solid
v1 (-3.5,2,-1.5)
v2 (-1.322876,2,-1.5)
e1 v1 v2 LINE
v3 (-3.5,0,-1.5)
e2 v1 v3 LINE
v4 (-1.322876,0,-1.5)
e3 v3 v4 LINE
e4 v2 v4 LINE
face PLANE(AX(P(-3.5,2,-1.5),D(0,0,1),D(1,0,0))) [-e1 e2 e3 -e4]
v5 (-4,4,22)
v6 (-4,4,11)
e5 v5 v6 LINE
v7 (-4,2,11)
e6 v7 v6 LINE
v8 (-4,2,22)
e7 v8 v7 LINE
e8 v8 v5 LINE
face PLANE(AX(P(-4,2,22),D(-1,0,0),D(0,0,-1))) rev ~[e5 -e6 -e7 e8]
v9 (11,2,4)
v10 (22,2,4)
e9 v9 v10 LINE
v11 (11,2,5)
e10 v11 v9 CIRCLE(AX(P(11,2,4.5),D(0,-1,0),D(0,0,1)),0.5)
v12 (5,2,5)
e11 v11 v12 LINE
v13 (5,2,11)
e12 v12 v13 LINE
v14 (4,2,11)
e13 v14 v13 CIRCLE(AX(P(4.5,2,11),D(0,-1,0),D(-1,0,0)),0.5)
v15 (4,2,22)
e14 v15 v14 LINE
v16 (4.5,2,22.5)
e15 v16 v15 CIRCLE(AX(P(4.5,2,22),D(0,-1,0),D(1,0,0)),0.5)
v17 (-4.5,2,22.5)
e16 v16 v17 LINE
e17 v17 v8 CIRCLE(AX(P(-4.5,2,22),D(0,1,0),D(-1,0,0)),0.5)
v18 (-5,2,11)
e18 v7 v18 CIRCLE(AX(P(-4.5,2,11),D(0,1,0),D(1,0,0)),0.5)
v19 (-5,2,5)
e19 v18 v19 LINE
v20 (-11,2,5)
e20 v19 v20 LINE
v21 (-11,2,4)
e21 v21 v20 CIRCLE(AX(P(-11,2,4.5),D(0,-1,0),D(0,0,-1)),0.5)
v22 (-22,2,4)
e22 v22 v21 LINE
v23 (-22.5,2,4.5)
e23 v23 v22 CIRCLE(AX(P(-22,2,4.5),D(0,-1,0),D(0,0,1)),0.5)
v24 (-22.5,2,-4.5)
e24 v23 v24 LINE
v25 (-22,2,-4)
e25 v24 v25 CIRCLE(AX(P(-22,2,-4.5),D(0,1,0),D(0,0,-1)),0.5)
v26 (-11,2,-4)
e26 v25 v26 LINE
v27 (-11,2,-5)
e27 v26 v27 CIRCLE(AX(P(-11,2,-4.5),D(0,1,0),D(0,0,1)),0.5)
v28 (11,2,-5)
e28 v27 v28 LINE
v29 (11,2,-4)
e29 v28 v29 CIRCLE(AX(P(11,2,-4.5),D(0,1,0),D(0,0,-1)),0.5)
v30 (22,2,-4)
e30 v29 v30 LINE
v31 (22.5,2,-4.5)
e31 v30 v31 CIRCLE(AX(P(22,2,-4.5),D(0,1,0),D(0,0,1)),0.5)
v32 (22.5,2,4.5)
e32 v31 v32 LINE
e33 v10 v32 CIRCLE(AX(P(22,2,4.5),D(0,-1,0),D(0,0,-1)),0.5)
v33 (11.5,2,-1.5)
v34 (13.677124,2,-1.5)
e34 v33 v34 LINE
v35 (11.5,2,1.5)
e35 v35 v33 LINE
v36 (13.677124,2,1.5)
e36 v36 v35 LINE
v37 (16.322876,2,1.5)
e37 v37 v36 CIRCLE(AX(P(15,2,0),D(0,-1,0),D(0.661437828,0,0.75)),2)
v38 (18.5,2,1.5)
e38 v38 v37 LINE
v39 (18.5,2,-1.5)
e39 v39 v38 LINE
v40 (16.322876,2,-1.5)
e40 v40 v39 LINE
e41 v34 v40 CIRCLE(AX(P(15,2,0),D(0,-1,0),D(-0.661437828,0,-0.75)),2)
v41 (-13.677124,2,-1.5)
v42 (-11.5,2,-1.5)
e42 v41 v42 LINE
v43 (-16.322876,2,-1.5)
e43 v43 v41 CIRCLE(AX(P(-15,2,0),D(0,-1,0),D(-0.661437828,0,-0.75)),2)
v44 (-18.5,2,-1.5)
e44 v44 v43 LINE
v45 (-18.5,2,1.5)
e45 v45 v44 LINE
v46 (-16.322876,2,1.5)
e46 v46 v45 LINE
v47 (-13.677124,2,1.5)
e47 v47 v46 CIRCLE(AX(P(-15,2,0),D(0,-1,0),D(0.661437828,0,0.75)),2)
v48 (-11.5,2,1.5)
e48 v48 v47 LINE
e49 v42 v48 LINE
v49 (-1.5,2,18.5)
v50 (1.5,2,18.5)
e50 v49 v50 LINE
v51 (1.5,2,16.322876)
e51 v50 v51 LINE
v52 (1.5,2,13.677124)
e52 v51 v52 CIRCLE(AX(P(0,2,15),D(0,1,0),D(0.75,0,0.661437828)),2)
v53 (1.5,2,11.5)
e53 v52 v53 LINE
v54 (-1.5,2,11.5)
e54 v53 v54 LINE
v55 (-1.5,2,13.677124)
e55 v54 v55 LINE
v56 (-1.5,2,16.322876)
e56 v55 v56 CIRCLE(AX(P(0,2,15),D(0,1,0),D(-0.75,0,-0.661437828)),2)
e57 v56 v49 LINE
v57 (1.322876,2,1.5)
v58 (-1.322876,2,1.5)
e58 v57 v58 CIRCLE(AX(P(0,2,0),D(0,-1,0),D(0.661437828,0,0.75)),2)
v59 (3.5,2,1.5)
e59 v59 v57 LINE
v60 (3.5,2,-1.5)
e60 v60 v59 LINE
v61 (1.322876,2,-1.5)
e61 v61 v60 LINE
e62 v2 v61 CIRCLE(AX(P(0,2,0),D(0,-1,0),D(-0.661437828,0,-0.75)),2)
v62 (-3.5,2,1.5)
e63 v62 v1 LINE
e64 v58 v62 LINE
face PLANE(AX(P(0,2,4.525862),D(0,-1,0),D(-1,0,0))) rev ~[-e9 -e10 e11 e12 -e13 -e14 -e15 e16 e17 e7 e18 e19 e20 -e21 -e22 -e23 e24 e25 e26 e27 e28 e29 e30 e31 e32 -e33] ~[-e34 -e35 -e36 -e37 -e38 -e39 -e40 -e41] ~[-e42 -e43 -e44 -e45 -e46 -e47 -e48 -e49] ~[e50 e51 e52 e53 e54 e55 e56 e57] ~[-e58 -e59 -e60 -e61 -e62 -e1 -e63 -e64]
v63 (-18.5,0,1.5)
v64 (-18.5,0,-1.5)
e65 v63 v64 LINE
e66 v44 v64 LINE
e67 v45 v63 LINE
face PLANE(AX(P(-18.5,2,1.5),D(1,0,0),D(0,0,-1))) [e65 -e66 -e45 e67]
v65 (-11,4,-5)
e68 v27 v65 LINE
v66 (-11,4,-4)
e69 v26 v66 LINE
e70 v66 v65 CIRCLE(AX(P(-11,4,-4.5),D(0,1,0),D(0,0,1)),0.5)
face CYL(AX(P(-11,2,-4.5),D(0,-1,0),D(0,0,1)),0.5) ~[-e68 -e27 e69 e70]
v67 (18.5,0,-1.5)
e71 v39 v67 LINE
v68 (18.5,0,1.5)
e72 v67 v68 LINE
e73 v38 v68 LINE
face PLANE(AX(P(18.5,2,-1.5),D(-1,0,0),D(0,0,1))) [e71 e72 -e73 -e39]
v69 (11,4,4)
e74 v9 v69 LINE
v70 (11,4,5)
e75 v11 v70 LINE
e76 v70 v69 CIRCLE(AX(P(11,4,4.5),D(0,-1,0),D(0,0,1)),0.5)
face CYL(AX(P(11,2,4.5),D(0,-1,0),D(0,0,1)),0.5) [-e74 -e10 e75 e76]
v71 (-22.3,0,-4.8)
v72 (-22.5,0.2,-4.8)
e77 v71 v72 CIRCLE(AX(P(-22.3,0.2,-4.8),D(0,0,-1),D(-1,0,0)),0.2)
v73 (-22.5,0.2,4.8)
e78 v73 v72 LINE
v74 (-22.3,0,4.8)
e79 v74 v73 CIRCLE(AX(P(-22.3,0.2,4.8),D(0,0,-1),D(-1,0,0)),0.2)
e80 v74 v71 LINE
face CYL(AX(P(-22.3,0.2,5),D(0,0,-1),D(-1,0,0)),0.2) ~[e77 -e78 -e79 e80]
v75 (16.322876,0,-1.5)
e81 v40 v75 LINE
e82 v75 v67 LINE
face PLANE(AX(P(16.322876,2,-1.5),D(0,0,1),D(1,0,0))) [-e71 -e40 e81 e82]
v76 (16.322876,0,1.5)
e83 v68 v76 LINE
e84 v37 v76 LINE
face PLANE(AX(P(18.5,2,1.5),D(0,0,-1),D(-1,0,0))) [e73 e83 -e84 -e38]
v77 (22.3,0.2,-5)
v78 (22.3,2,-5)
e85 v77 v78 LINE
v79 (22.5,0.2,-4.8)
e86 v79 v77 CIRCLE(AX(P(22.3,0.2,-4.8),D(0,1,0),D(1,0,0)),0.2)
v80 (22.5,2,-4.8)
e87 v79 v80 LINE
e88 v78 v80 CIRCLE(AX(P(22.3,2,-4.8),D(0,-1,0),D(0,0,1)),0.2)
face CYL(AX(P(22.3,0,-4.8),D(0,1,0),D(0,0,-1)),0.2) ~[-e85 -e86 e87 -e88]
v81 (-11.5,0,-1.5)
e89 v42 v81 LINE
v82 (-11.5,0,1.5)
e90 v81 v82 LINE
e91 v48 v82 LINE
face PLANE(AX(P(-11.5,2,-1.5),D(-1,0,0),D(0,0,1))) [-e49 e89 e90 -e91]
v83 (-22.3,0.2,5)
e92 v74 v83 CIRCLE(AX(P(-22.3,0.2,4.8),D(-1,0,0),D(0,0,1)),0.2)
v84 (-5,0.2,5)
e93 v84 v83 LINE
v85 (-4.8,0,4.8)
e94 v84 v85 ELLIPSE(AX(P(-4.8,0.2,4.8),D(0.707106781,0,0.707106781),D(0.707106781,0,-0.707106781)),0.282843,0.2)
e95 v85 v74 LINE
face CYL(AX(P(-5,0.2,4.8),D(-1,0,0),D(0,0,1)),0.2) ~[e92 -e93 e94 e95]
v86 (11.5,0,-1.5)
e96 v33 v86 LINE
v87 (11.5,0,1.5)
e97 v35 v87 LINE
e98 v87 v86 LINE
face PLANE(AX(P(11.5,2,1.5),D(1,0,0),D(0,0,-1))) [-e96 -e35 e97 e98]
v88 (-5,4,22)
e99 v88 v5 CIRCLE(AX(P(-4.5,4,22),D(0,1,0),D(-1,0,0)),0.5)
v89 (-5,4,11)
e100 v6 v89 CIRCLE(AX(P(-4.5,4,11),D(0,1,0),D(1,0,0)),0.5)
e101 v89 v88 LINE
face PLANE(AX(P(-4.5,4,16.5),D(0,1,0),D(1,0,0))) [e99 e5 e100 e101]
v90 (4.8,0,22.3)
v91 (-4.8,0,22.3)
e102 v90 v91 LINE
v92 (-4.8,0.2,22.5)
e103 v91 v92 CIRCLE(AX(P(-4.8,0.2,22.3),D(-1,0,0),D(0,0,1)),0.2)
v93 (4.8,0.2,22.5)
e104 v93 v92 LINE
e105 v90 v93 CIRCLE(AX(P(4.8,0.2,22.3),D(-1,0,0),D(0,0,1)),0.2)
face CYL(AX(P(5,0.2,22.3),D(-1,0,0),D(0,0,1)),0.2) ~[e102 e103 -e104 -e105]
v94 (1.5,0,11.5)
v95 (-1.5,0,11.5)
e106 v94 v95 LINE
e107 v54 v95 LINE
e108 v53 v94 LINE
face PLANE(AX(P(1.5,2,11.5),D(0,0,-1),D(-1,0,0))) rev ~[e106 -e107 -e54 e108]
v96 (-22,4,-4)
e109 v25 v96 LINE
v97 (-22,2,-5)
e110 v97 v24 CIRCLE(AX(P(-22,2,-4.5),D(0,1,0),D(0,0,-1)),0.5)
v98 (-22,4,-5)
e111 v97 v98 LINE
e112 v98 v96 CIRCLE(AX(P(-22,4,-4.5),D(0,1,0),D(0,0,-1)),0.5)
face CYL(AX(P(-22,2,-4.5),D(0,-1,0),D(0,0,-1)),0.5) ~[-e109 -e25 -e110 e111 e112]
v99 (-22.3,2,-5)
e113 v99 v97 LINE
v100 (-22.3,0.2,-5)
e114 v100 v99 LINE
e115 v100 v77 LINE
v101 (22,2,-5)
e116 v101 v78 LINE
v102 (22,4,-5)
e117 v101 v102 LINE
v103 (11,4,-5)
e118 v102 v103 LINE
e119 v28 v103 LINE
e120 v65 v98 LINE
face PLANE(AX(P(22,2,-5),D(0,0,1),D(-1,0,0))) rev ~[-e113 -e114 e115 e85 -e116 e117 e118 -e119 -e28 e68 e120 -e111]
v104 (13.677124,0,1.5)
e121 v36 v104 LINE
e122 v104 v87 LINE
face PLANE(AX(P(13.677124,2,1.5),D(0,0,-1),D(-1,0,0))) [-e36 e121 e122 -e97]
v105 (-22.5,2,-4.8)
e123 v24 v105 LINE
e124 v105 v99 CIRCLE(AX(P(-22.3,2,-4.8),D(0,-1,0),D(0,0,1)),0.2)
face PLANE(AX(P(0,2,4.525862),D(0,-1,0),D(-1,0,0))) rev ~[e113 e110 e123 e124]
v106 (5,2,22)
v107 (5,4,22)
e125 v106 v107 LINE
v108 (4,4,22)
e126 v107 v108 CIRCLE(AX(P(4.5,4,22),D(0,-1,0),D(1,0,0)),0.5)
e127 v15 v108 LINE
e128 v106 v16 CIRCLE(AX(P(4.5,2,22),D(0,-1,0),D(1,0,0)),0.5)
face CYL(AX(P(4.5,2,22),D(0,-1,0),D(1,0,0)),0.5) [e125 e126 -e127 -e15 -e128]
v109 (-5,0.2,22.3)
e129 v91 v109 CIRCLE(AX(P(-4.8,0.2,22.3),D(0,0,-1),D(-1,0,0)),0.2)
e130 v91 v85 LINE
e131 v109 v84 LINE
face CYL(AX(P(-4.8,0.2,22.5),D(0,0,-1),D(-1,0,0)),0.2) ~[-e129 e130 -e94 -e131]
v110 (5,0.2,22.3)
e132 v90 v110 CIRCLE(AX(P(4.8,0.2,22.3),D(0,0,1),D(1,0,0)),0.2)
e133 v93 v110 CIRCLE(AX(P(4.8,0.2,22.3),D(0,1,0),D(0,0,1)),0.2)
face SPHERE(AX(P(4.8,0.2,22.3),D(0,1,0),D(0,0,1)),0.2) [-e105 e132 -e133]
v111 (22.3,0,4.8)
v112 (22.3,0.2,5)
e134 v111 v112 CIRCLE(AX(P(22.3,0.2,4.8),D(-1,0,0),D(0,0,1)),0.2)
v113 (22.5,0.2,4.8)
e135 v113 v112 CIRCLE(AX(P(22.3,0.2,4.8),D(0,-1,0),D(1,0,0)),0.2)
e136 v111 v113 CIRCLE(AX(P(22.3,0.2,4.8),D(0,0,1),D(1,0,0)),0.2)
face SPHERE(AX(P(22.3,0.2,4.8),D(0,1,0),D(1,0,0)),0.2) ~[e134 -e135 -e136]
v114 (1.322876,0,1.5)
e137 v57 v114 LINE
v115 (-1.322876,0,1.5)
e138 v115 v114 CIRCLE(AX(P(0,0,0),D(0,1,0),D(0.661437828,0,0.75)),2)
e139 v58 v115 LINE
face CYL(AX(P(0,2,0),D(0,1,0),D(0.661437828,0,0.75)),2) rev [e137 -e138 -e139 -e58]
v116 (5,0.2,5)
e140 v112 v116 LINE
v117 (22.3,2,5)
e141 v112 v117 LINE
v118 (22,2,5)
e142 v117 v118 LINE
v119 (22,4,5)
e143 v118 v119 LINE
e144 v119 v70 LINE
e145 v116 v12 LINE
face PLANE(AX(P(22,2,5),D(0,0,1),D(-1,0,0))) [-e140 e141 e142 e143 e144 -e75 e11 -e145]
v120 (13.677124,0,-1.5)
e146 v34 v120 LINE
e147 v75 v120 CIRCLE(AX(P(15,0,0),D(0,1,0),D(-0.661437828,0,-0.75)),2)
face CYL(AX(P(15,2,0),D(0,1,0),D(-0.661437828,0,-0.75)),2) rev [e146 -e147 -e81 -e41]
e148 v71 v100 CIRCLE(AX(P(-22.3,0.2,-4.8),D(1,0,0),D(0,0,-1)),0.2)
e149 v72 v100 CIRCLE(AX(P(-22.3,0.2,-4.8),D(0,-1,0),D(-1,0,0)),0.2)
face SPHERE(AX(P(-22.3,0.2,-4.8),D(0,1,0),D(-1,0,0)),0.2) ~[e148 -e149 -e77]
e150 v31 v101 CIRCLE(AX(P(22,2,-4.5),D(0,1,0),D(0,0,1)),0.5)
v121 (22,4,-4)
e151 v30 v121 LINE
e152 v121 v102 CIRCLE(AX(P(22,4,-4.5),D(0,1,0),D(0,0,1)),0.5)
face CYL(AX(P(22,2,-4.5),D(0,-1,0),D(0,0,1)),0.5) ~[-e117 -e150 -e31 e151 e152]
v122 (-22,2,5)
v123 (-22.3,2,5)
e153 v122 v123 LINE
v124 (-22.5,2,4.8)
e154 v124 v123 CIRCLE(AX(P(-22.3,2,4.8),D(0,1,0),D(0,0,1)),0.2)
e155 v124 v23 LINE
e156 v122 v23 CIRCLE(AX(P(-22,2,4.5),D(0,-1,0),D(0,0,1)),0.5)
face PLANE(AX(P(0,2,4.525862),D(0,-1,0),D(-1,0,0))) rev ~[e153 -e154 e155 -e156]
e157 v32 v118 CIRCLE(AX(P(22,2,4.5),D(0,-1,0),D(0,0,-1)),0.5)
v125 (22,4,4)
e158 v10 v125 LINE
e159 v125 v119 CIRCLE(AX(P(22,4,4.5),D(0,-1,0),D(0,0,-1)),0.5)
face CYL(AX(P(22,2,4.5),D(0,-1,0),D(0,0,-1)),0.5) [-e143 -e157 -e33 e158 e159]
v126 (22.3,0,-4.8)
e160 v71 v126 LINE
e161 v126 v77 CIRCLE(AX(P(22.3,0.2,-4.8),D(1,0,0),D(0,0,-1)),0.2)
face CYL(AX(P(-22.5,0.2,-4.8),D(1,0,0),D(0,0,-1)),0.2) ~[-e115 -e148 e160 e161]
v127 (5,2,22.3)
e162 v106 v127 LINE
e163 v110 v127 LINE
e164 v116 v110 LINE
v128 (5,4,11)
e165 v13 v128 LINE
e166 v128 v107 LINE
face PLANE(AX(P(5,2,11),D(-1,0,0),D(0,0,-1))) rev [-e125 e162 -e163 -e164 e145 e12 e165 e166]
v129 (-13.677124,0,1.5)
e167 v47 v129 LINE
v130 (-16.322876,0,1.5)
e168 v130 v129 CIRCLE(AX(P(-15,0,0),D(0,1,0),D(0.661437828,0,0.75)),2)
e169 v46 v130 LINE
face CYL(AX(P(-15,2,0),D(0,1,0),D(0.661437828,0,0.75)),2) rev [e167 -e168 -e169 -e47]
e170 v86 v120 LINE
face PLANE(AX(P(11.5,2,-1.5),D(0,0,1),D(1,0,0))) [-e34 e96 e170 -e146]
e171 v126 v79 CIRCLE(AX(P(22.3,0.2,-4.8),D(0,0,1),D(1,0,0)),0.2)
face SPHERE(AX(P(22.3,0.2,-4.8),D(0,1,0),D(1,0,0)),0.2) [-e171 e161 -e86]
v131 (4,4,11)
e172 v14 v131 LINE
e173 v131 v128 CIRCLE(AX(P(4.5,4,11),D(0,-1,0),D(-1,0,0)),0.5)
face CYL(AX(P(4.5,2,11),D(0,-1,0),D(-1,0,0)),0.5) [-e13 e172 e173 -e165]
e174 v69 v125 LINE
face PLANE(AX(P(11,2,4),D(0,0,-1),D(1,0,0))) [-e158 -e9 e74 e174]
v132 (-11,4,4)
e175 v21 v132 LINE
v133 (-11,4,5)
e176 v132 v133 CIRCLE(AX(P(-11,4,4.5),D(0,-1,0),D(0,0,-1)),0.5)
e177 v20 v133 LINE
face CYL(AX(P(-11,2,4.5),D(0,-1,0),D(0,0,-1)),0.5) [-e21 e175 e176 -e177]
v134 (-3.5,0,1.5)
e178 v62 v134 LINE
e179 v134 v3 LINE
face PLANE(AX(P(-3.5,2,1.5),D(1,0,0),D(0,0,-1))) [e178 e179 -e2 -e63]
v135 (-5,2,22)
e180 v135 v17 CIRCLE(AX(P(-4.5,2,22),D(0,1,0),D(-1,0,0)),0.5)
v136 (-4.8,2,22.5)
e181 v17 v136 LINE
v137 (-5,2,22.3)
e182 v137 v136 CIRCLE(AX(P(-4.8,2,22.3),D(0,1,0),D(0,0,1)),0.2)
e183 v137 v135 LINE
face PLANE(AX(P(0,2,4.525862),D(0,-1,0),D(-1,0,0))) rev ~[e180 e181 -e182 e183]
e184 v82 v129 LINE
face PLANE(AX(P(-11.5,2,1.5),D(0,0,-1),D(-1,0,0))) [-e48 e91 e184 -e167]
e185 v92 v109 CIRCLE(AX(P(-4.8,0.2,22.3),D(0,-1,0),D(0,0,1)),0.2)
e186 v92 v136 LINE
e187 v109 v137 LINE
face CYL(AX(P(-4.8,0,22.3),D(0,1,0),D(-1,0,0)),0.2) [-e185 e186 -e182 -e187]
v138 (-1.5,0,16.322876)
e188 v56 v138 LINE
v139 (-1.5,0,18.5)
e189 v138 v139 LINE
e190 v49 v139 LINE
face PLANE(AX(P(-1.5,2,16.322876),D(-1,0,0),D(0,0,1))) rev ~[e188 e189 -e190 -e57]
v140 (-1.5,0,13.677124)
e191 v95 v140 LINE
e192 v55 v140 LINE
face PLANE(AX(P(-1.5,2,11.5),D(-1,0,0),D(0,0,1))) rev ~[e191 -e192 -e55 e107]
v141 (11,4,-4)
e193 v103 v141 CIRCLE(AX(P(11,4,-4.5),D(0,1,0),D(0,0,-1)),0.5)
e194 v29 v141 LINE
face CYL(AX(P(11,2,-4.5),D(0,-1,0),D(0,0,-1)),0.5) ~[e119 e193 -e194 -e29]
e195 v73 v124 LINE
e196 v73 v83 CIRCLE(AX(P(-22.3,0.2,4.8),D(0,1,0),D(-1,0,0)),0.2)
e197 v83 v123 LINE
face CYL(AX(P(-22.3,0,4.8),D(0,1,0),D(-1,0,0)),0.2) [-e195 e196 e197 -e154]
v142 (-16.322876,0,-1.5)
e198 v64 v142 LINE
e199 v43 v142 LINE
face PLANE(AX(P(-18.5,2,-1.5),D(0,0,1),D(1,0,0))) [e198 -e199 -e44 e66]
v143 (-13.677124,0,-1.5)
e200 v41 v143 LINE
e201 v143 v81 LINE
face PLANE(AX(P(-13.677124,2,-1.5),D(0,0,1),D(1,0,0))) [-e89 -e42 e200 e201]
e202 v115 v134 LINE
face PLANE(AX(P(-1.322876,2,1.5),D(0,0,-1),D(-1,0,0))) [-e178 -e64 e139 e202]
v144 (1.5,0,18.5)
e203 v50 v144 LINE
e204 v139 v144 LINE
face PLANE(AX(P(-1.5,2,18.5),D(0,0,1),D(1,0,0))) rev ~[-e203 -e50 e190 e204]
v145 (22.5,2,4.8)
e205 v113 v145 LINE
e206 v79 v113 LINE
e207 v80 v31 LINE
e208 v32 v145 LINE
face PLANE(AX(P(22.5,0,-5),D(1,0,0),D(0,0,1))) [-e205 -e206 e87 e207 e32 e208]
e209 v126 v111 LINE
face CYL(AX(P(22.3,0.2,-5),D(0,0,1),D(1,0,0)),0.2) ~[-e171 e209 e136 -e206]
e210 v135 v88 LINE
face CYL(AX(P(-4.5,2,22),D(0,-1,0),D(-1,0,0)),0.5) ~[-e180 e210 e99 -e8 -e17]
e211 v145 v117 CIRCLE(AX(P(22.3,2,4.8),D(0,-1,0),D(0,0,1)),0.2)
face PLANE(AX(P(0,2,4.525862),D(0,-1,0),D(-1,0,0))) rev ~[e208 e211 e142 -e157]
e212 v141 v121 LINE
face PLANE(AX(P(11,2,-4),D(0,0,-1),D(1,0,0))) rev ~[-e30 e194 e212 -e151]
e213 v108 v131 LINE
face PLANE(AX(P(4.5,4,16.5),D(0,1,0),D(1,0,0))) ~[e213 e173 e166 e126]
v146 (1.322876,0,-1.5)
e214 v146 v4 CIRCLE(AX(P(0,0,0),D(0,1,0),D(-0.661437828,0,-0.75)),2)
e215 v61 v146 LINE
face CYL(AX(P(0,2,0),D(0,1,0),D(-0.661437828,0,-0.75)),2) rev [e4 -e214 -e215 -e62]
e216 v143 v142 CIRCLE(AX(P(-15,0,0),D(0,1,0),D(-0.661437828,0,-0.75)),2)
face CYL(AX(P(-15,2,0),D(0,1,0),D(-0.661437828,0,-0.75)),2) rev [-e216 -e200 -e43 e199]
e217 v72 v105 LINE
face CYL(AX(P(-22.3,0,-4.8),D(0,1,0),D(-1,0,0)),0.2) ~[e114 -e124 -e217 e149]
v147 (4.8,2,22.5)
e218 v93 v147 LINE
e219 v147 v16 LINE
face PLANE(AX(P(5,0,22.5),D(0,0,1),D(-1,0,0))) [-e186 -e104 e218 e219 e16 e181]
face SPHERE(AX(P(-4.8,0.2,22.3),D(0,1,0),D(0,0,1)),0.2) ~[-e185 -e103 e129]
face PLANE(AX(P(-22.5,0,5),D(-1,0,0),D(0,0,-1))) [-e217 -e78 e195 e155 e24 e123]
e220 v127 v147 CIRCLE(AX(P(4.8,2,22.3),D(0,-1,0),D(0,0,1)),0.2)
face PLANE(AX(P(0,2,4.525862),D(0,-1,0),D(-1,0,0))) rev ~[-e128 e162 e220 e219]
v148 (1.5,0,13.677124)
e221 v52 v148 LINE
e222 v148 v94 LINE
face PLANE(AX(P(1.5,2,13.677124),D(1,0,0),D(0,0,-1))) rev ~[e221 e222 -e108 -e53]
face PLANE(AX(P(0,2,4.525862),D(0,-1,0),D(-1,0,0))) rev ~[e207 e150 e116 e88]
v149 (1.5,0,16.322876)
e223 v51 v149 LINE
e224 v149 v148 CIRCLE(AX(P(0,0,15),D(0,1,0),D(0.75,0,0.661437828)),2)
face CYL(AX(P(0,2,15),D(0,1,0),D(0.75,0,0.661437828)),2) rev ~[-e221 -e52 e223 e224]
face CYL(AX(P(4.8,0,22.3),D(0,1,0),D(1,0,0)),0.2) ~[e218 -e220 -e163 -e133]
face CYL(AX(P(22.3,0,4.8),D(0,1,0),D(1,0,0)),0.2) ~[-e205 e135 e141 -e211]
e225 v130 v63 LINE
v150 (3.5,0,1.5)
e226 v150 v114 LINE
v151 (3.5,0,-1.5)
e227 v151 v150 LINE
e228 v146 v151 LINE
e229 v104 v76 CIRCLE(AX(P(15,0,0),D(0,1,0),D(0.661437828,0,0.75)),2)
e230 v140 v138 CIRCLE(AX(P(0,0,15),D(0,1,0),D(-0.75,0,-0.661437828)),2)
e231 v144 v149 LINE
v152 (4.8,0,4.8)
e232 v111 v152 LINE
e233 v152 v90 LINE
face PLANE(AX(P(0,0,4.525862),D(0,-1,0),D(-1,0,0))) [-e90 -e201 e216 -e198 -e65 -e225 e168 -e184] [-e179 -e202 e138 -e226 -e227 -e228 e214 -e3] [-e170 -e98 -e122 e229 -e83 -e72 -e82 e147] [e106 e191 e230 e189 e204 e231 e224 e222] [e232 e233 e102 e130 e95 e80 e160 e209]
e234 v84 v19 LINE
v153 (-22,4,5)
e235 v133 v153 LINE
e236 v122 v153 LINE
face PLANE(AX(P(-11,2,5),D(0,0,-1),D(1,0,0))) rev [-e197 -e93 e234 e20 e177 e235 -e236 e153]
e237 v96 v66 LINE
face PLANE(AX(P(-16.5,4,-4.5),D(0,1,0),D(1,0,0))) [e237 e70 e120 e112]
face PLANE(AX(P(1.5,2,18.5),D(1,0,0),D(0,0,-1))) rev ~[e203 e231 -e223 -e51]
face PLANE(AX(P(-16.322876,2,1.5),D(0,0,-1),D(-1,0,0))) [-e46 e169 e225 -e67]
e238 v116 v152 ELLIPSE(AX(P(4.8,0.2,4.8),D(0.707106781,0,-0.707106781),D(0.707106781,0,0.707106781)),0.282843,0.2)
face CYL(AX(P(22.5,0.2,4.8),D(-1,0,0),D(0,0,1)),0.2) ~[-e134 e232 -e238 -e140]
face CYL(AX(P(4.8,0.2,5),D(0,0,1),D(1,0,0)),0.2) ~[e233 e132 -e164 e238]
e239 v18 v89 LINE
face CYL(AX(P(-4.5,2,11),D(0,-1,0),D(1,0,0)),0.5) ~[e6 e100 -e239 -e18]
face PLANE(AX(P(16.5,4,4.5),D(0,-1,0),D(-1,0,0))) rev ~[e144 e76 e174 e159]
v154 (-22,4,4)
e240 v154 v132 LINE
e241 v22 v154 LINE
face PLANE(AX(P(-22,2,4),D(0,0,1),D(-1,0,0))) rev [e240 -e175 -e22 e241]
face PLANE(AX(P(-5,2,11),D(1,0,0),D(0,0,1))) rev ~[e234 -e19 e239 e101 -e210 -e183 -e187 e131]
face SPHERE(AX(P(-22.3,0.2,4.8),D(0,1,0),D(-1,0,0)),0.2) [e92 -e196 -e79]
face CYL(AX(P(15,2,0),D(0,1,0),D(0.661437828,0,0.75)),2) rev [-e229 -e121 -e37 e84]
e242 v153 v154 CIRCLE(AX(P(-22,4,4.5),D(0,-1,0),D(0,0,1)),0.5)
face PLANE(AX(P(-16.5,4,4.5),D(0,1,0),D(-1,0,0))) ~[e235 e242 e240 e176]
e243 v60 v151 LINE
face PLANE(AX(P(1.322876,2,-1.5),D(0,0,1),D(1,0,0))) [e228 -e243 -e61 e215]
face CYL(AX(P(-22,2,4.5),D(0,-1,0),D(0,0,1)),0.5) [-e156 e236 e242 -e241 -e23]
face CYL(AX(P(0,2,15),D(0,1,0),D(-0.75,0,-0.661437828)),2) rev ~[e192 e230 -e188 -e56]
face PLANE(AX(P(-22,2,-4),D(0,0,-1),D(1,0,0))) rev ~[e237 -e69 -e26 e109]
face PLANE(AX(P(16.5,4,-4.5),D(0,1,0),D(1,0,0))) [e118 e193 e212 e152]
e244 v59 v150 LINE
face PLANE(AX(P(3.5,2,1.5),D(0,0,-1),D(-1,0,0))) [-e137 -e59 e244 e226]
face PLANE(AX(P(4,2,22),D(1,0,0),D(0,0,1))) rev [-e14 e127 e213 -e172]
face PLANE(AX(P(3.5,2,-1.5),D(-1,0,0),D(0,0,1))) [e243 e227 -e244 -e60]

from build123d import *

# Parameters (mm, degrees)
EXTRUDE_1_DEPTH               = 2
EXTRUDE_2_DEPTH               = 2
PATTERN_LINEAR_1_COUNT        = 2
PATTERN_LINEAR_1_PITCH        = 33
PATTERN_LINEAR_1_COPY_1_DEPTH = 2
EXTRUDE_3_DEPTH               = 2
CUT_EXTRUDE_1_REACH           = 33.883
PATTERN_LINEAR_2_COUNT        = 2
PATTERN_LINEAR_2_PITCH        = 15
PATTERN_LINEAR_2_COL_COUNT    = 2
PATTERN_LINEAR_2_COL_PITCH    = 15
CUT_EXTRUDE_2_REACH           = 33.883
FILLET_1_R                    = 0.2


with BuildPart() as part:
    # 草图1 → 凸台-拉伸1 (new body)
    with BuildSketch(Plane(origin=(0, 0, 0), x_dir=(1, 0, 0), z_dir=(0, 1, 0))):
        Polygon((22.5, 5), (22.5, -5), (5, -5), (5, -22.5), (-5, -22.5), (-5, -5), (-22.5, -5), (-22.5, 5), align=None)
    extrude(amount=EXTRUDE_1_DEPTH)

    # 草图2 → 凸台-拉伸2 (add)
    with BuildSketch(Plane(origin=(0, 2, 0), x_dir=(1, 0, 0), z_dir=(0, 1, 0))):
        with BuildLine():
            Line((-22, 4), (-11, 4))
            ThreePointArc((-11, 4), (-10.5, 4.5), (-11, 5))
            Line((-11, 5), (-22, 5))
            ThreePointArc((-22, 5), (-22.5, 4.5), (-22, 4))
        make_face()
    extrude_2 = extrude(amount=EXTRUDE_2_DEPTH)

    # 镜向1: 凸台-拉伸2 across plane
    add(extrude_2.mirror(Plane.XY))

    # 阵列(线性)1: 凸台-拉伸2 ×2
    with Locations(*[(i * PATTERN_LINEAR_1_PITCH, 0, 0) for i in range(1, PATTERN_LINEAR_1_COUNT)]):
        add(extrude_2)

    # 阵列(线性)1 copy 1 sketch → 阵列(线性)1 copy 1 (add)
    with BuildSketch(Plane(origin=(33, 2, 0), x_dir=(1, 0, 0), z_dir=(0, 1, 0))):
        with BuildLine():
            Line((-22, -4), (-11, -4))
            ThreePointArc((-11, -4), (-10.5, -4.5), (-11, -5))
            Line((-11, -5), (-22, -5))
            ThreePointArc((-22, -5), (-22.5, -4.5), (-22, -4))
        make_face()
    extrude(amount=PATTERN_LINEAR_1_COPY_1_DEPTH)

    # 草图3 → 凸台-拉伸3 (add)
    with BuildSketch(Plane(origin=(0, 2, 0), x_dir=(1, 0, 0), z_dir=(0, 1, 0))):
        with BuildLine():
            Line((-4, -22), (-4, -11))
            ThreePointArc((-4, -11), (-4.5, -10.5), (-5, -11))
            Line((-5, -11), (-5, -22))
            ThreePointArc((-5, -22), (-4.5, -22.5), (-4, -22))
        make_face()
    extrude_3 = extrude(amount=EXTRUDE_3_DEPTH)

    # 镜向2: 凸台-拉伸3 across plane
    add(extrude_3.mirror(Plane(origin=(0, 0, 0), x_dir=(0, 0, 1), z_dir=(1, 0, 0))))

    # 草图4 → 切除-拉伸1 (cut, up to next)
    with BuildSketch(Plane(origin=(0, 2, 0), x_dir=(1, 0, 0), z_dir=(0, 1, 0)), mode=Mode.PRIVATE) as cut_extrude_1_sk1:
        with BuildLine():
            Line((3.5, 1.5), (3.5, -1.5))
            Line((3.5, -1.5), (1.322875656, -1.5))
            ThreePointArc((1.322875656, -1.5), (0, -2), (-1.322875656, -1.5))
            Line((-1.322875656, -1.5), (-3.5, -1.5))
            Line((-3.5, -1.5), (-3.5, 1.5))
            Line((-3.5, 1.5), (-1.322875656, 1.5))
            ThreePointArc((-1.322875656, 1.5), (0, 2), (1.322875656, 1.5))
            Line((1.322875656, 1.5), (3.5, 1.5))
        make_face()
    cut_extrude_1_tool1 = extrude(cut_extrude_1_sk1.sketch, amount=-CUT_EXTRUDE_1_REACH, mode=Mode.PRIVATE) & part.part
    cut_extrude_1 = cut_extrude_1_tool1.solids().sort_by_distance((0, 2, 0))[0]
    add(cut_extrude_1, mode=Mode.SUBTRACT)

    # 阵列(线性)2: 切除-拉伸1 ×2
    with Locations(*[(i * PATTERN_LINEAR_2_PITCH, 0, 0) for i in range(1, PATTERN_LINEAR_2_COUNT)]):
        add(cut_extrude_1, mode=Mode.SUBTRACT)

    # 阵列(线性)2 col: 切除-拉伸1 ×2
    with Locations(*[(-i * PATTERN_LINEAR_2_COL_PITCH, 0, 0) for i in range(1, PATTERN_LINEAR_2_COL_COUNT)]):
        add(cut_extrude_1, mode=Mode.SUBTRACT)

    # 草图5 → 切除-拉伸2 (cut, up to next)
    with BuildSketch(Plane(origin=(0, 2, 0), x_dir=(1, 0, 0), z_dir=(0, 1, 0)), mode=Mode.PRIVATE) as cut_extrude_2_sk1:
        with BuildLine():
            Line((1.5, -11.5), (-1.5, -11.5))
            Line((-1.5, -11.5), (-1.5, -13.677124344))
            ThreePointArc((-1.5, -13.677124344), (-2, -15), (-1.5, -16.322875656))
            Line((-1.5, -16.322875656), (-1.5, -18.5))
            Line((-1.5, -18.5), (1.5, -18.5))
            Line((1.5, -18.5), (1.5, -16.322875656))
            ThreePointArc((1.5, -16.322875656), (2, -15), (1.5, -13.677124344))
            Line((1.5, -13.677124344), (1.5, -11.5))
        make_face()
    cut_extrude_2_tool1 = extrude(cut_extrude_2_sk1.sketch, amount=-CUT_EXTRUDE_2_REACH, mode=Mode.PRIVATE) & part.part
    add(cut_extrude_2_tool1.solids().sort_by_distance((0, 2, 15))[0], mode=Mode.SUBTRACT)

    # 圆角1
    fillet_1_edges = [part.edges().sort_by_distance(p)[0] for p in [
        (22.5, 1, 5),
        (22.5, 1, -5),
        (-22.5, 1, -5),
        (-22.5, 1, 5),
        (5, 1, 22.5),
        (-5, 1, 22.5),
        (-22.5, 0, 0),
        (22.5, 0, 0),
        (0, 0, 22.5),
        (5, 0, 13.75),
        (-5, 0, 13.75),
        (-13.75, 0, 5),
        (13.75, 0, 5),
        (0, 0, -5),
    ]]
    fillet(fillet_1_edges, radius=FILLET_1_R)


solid = part.part
